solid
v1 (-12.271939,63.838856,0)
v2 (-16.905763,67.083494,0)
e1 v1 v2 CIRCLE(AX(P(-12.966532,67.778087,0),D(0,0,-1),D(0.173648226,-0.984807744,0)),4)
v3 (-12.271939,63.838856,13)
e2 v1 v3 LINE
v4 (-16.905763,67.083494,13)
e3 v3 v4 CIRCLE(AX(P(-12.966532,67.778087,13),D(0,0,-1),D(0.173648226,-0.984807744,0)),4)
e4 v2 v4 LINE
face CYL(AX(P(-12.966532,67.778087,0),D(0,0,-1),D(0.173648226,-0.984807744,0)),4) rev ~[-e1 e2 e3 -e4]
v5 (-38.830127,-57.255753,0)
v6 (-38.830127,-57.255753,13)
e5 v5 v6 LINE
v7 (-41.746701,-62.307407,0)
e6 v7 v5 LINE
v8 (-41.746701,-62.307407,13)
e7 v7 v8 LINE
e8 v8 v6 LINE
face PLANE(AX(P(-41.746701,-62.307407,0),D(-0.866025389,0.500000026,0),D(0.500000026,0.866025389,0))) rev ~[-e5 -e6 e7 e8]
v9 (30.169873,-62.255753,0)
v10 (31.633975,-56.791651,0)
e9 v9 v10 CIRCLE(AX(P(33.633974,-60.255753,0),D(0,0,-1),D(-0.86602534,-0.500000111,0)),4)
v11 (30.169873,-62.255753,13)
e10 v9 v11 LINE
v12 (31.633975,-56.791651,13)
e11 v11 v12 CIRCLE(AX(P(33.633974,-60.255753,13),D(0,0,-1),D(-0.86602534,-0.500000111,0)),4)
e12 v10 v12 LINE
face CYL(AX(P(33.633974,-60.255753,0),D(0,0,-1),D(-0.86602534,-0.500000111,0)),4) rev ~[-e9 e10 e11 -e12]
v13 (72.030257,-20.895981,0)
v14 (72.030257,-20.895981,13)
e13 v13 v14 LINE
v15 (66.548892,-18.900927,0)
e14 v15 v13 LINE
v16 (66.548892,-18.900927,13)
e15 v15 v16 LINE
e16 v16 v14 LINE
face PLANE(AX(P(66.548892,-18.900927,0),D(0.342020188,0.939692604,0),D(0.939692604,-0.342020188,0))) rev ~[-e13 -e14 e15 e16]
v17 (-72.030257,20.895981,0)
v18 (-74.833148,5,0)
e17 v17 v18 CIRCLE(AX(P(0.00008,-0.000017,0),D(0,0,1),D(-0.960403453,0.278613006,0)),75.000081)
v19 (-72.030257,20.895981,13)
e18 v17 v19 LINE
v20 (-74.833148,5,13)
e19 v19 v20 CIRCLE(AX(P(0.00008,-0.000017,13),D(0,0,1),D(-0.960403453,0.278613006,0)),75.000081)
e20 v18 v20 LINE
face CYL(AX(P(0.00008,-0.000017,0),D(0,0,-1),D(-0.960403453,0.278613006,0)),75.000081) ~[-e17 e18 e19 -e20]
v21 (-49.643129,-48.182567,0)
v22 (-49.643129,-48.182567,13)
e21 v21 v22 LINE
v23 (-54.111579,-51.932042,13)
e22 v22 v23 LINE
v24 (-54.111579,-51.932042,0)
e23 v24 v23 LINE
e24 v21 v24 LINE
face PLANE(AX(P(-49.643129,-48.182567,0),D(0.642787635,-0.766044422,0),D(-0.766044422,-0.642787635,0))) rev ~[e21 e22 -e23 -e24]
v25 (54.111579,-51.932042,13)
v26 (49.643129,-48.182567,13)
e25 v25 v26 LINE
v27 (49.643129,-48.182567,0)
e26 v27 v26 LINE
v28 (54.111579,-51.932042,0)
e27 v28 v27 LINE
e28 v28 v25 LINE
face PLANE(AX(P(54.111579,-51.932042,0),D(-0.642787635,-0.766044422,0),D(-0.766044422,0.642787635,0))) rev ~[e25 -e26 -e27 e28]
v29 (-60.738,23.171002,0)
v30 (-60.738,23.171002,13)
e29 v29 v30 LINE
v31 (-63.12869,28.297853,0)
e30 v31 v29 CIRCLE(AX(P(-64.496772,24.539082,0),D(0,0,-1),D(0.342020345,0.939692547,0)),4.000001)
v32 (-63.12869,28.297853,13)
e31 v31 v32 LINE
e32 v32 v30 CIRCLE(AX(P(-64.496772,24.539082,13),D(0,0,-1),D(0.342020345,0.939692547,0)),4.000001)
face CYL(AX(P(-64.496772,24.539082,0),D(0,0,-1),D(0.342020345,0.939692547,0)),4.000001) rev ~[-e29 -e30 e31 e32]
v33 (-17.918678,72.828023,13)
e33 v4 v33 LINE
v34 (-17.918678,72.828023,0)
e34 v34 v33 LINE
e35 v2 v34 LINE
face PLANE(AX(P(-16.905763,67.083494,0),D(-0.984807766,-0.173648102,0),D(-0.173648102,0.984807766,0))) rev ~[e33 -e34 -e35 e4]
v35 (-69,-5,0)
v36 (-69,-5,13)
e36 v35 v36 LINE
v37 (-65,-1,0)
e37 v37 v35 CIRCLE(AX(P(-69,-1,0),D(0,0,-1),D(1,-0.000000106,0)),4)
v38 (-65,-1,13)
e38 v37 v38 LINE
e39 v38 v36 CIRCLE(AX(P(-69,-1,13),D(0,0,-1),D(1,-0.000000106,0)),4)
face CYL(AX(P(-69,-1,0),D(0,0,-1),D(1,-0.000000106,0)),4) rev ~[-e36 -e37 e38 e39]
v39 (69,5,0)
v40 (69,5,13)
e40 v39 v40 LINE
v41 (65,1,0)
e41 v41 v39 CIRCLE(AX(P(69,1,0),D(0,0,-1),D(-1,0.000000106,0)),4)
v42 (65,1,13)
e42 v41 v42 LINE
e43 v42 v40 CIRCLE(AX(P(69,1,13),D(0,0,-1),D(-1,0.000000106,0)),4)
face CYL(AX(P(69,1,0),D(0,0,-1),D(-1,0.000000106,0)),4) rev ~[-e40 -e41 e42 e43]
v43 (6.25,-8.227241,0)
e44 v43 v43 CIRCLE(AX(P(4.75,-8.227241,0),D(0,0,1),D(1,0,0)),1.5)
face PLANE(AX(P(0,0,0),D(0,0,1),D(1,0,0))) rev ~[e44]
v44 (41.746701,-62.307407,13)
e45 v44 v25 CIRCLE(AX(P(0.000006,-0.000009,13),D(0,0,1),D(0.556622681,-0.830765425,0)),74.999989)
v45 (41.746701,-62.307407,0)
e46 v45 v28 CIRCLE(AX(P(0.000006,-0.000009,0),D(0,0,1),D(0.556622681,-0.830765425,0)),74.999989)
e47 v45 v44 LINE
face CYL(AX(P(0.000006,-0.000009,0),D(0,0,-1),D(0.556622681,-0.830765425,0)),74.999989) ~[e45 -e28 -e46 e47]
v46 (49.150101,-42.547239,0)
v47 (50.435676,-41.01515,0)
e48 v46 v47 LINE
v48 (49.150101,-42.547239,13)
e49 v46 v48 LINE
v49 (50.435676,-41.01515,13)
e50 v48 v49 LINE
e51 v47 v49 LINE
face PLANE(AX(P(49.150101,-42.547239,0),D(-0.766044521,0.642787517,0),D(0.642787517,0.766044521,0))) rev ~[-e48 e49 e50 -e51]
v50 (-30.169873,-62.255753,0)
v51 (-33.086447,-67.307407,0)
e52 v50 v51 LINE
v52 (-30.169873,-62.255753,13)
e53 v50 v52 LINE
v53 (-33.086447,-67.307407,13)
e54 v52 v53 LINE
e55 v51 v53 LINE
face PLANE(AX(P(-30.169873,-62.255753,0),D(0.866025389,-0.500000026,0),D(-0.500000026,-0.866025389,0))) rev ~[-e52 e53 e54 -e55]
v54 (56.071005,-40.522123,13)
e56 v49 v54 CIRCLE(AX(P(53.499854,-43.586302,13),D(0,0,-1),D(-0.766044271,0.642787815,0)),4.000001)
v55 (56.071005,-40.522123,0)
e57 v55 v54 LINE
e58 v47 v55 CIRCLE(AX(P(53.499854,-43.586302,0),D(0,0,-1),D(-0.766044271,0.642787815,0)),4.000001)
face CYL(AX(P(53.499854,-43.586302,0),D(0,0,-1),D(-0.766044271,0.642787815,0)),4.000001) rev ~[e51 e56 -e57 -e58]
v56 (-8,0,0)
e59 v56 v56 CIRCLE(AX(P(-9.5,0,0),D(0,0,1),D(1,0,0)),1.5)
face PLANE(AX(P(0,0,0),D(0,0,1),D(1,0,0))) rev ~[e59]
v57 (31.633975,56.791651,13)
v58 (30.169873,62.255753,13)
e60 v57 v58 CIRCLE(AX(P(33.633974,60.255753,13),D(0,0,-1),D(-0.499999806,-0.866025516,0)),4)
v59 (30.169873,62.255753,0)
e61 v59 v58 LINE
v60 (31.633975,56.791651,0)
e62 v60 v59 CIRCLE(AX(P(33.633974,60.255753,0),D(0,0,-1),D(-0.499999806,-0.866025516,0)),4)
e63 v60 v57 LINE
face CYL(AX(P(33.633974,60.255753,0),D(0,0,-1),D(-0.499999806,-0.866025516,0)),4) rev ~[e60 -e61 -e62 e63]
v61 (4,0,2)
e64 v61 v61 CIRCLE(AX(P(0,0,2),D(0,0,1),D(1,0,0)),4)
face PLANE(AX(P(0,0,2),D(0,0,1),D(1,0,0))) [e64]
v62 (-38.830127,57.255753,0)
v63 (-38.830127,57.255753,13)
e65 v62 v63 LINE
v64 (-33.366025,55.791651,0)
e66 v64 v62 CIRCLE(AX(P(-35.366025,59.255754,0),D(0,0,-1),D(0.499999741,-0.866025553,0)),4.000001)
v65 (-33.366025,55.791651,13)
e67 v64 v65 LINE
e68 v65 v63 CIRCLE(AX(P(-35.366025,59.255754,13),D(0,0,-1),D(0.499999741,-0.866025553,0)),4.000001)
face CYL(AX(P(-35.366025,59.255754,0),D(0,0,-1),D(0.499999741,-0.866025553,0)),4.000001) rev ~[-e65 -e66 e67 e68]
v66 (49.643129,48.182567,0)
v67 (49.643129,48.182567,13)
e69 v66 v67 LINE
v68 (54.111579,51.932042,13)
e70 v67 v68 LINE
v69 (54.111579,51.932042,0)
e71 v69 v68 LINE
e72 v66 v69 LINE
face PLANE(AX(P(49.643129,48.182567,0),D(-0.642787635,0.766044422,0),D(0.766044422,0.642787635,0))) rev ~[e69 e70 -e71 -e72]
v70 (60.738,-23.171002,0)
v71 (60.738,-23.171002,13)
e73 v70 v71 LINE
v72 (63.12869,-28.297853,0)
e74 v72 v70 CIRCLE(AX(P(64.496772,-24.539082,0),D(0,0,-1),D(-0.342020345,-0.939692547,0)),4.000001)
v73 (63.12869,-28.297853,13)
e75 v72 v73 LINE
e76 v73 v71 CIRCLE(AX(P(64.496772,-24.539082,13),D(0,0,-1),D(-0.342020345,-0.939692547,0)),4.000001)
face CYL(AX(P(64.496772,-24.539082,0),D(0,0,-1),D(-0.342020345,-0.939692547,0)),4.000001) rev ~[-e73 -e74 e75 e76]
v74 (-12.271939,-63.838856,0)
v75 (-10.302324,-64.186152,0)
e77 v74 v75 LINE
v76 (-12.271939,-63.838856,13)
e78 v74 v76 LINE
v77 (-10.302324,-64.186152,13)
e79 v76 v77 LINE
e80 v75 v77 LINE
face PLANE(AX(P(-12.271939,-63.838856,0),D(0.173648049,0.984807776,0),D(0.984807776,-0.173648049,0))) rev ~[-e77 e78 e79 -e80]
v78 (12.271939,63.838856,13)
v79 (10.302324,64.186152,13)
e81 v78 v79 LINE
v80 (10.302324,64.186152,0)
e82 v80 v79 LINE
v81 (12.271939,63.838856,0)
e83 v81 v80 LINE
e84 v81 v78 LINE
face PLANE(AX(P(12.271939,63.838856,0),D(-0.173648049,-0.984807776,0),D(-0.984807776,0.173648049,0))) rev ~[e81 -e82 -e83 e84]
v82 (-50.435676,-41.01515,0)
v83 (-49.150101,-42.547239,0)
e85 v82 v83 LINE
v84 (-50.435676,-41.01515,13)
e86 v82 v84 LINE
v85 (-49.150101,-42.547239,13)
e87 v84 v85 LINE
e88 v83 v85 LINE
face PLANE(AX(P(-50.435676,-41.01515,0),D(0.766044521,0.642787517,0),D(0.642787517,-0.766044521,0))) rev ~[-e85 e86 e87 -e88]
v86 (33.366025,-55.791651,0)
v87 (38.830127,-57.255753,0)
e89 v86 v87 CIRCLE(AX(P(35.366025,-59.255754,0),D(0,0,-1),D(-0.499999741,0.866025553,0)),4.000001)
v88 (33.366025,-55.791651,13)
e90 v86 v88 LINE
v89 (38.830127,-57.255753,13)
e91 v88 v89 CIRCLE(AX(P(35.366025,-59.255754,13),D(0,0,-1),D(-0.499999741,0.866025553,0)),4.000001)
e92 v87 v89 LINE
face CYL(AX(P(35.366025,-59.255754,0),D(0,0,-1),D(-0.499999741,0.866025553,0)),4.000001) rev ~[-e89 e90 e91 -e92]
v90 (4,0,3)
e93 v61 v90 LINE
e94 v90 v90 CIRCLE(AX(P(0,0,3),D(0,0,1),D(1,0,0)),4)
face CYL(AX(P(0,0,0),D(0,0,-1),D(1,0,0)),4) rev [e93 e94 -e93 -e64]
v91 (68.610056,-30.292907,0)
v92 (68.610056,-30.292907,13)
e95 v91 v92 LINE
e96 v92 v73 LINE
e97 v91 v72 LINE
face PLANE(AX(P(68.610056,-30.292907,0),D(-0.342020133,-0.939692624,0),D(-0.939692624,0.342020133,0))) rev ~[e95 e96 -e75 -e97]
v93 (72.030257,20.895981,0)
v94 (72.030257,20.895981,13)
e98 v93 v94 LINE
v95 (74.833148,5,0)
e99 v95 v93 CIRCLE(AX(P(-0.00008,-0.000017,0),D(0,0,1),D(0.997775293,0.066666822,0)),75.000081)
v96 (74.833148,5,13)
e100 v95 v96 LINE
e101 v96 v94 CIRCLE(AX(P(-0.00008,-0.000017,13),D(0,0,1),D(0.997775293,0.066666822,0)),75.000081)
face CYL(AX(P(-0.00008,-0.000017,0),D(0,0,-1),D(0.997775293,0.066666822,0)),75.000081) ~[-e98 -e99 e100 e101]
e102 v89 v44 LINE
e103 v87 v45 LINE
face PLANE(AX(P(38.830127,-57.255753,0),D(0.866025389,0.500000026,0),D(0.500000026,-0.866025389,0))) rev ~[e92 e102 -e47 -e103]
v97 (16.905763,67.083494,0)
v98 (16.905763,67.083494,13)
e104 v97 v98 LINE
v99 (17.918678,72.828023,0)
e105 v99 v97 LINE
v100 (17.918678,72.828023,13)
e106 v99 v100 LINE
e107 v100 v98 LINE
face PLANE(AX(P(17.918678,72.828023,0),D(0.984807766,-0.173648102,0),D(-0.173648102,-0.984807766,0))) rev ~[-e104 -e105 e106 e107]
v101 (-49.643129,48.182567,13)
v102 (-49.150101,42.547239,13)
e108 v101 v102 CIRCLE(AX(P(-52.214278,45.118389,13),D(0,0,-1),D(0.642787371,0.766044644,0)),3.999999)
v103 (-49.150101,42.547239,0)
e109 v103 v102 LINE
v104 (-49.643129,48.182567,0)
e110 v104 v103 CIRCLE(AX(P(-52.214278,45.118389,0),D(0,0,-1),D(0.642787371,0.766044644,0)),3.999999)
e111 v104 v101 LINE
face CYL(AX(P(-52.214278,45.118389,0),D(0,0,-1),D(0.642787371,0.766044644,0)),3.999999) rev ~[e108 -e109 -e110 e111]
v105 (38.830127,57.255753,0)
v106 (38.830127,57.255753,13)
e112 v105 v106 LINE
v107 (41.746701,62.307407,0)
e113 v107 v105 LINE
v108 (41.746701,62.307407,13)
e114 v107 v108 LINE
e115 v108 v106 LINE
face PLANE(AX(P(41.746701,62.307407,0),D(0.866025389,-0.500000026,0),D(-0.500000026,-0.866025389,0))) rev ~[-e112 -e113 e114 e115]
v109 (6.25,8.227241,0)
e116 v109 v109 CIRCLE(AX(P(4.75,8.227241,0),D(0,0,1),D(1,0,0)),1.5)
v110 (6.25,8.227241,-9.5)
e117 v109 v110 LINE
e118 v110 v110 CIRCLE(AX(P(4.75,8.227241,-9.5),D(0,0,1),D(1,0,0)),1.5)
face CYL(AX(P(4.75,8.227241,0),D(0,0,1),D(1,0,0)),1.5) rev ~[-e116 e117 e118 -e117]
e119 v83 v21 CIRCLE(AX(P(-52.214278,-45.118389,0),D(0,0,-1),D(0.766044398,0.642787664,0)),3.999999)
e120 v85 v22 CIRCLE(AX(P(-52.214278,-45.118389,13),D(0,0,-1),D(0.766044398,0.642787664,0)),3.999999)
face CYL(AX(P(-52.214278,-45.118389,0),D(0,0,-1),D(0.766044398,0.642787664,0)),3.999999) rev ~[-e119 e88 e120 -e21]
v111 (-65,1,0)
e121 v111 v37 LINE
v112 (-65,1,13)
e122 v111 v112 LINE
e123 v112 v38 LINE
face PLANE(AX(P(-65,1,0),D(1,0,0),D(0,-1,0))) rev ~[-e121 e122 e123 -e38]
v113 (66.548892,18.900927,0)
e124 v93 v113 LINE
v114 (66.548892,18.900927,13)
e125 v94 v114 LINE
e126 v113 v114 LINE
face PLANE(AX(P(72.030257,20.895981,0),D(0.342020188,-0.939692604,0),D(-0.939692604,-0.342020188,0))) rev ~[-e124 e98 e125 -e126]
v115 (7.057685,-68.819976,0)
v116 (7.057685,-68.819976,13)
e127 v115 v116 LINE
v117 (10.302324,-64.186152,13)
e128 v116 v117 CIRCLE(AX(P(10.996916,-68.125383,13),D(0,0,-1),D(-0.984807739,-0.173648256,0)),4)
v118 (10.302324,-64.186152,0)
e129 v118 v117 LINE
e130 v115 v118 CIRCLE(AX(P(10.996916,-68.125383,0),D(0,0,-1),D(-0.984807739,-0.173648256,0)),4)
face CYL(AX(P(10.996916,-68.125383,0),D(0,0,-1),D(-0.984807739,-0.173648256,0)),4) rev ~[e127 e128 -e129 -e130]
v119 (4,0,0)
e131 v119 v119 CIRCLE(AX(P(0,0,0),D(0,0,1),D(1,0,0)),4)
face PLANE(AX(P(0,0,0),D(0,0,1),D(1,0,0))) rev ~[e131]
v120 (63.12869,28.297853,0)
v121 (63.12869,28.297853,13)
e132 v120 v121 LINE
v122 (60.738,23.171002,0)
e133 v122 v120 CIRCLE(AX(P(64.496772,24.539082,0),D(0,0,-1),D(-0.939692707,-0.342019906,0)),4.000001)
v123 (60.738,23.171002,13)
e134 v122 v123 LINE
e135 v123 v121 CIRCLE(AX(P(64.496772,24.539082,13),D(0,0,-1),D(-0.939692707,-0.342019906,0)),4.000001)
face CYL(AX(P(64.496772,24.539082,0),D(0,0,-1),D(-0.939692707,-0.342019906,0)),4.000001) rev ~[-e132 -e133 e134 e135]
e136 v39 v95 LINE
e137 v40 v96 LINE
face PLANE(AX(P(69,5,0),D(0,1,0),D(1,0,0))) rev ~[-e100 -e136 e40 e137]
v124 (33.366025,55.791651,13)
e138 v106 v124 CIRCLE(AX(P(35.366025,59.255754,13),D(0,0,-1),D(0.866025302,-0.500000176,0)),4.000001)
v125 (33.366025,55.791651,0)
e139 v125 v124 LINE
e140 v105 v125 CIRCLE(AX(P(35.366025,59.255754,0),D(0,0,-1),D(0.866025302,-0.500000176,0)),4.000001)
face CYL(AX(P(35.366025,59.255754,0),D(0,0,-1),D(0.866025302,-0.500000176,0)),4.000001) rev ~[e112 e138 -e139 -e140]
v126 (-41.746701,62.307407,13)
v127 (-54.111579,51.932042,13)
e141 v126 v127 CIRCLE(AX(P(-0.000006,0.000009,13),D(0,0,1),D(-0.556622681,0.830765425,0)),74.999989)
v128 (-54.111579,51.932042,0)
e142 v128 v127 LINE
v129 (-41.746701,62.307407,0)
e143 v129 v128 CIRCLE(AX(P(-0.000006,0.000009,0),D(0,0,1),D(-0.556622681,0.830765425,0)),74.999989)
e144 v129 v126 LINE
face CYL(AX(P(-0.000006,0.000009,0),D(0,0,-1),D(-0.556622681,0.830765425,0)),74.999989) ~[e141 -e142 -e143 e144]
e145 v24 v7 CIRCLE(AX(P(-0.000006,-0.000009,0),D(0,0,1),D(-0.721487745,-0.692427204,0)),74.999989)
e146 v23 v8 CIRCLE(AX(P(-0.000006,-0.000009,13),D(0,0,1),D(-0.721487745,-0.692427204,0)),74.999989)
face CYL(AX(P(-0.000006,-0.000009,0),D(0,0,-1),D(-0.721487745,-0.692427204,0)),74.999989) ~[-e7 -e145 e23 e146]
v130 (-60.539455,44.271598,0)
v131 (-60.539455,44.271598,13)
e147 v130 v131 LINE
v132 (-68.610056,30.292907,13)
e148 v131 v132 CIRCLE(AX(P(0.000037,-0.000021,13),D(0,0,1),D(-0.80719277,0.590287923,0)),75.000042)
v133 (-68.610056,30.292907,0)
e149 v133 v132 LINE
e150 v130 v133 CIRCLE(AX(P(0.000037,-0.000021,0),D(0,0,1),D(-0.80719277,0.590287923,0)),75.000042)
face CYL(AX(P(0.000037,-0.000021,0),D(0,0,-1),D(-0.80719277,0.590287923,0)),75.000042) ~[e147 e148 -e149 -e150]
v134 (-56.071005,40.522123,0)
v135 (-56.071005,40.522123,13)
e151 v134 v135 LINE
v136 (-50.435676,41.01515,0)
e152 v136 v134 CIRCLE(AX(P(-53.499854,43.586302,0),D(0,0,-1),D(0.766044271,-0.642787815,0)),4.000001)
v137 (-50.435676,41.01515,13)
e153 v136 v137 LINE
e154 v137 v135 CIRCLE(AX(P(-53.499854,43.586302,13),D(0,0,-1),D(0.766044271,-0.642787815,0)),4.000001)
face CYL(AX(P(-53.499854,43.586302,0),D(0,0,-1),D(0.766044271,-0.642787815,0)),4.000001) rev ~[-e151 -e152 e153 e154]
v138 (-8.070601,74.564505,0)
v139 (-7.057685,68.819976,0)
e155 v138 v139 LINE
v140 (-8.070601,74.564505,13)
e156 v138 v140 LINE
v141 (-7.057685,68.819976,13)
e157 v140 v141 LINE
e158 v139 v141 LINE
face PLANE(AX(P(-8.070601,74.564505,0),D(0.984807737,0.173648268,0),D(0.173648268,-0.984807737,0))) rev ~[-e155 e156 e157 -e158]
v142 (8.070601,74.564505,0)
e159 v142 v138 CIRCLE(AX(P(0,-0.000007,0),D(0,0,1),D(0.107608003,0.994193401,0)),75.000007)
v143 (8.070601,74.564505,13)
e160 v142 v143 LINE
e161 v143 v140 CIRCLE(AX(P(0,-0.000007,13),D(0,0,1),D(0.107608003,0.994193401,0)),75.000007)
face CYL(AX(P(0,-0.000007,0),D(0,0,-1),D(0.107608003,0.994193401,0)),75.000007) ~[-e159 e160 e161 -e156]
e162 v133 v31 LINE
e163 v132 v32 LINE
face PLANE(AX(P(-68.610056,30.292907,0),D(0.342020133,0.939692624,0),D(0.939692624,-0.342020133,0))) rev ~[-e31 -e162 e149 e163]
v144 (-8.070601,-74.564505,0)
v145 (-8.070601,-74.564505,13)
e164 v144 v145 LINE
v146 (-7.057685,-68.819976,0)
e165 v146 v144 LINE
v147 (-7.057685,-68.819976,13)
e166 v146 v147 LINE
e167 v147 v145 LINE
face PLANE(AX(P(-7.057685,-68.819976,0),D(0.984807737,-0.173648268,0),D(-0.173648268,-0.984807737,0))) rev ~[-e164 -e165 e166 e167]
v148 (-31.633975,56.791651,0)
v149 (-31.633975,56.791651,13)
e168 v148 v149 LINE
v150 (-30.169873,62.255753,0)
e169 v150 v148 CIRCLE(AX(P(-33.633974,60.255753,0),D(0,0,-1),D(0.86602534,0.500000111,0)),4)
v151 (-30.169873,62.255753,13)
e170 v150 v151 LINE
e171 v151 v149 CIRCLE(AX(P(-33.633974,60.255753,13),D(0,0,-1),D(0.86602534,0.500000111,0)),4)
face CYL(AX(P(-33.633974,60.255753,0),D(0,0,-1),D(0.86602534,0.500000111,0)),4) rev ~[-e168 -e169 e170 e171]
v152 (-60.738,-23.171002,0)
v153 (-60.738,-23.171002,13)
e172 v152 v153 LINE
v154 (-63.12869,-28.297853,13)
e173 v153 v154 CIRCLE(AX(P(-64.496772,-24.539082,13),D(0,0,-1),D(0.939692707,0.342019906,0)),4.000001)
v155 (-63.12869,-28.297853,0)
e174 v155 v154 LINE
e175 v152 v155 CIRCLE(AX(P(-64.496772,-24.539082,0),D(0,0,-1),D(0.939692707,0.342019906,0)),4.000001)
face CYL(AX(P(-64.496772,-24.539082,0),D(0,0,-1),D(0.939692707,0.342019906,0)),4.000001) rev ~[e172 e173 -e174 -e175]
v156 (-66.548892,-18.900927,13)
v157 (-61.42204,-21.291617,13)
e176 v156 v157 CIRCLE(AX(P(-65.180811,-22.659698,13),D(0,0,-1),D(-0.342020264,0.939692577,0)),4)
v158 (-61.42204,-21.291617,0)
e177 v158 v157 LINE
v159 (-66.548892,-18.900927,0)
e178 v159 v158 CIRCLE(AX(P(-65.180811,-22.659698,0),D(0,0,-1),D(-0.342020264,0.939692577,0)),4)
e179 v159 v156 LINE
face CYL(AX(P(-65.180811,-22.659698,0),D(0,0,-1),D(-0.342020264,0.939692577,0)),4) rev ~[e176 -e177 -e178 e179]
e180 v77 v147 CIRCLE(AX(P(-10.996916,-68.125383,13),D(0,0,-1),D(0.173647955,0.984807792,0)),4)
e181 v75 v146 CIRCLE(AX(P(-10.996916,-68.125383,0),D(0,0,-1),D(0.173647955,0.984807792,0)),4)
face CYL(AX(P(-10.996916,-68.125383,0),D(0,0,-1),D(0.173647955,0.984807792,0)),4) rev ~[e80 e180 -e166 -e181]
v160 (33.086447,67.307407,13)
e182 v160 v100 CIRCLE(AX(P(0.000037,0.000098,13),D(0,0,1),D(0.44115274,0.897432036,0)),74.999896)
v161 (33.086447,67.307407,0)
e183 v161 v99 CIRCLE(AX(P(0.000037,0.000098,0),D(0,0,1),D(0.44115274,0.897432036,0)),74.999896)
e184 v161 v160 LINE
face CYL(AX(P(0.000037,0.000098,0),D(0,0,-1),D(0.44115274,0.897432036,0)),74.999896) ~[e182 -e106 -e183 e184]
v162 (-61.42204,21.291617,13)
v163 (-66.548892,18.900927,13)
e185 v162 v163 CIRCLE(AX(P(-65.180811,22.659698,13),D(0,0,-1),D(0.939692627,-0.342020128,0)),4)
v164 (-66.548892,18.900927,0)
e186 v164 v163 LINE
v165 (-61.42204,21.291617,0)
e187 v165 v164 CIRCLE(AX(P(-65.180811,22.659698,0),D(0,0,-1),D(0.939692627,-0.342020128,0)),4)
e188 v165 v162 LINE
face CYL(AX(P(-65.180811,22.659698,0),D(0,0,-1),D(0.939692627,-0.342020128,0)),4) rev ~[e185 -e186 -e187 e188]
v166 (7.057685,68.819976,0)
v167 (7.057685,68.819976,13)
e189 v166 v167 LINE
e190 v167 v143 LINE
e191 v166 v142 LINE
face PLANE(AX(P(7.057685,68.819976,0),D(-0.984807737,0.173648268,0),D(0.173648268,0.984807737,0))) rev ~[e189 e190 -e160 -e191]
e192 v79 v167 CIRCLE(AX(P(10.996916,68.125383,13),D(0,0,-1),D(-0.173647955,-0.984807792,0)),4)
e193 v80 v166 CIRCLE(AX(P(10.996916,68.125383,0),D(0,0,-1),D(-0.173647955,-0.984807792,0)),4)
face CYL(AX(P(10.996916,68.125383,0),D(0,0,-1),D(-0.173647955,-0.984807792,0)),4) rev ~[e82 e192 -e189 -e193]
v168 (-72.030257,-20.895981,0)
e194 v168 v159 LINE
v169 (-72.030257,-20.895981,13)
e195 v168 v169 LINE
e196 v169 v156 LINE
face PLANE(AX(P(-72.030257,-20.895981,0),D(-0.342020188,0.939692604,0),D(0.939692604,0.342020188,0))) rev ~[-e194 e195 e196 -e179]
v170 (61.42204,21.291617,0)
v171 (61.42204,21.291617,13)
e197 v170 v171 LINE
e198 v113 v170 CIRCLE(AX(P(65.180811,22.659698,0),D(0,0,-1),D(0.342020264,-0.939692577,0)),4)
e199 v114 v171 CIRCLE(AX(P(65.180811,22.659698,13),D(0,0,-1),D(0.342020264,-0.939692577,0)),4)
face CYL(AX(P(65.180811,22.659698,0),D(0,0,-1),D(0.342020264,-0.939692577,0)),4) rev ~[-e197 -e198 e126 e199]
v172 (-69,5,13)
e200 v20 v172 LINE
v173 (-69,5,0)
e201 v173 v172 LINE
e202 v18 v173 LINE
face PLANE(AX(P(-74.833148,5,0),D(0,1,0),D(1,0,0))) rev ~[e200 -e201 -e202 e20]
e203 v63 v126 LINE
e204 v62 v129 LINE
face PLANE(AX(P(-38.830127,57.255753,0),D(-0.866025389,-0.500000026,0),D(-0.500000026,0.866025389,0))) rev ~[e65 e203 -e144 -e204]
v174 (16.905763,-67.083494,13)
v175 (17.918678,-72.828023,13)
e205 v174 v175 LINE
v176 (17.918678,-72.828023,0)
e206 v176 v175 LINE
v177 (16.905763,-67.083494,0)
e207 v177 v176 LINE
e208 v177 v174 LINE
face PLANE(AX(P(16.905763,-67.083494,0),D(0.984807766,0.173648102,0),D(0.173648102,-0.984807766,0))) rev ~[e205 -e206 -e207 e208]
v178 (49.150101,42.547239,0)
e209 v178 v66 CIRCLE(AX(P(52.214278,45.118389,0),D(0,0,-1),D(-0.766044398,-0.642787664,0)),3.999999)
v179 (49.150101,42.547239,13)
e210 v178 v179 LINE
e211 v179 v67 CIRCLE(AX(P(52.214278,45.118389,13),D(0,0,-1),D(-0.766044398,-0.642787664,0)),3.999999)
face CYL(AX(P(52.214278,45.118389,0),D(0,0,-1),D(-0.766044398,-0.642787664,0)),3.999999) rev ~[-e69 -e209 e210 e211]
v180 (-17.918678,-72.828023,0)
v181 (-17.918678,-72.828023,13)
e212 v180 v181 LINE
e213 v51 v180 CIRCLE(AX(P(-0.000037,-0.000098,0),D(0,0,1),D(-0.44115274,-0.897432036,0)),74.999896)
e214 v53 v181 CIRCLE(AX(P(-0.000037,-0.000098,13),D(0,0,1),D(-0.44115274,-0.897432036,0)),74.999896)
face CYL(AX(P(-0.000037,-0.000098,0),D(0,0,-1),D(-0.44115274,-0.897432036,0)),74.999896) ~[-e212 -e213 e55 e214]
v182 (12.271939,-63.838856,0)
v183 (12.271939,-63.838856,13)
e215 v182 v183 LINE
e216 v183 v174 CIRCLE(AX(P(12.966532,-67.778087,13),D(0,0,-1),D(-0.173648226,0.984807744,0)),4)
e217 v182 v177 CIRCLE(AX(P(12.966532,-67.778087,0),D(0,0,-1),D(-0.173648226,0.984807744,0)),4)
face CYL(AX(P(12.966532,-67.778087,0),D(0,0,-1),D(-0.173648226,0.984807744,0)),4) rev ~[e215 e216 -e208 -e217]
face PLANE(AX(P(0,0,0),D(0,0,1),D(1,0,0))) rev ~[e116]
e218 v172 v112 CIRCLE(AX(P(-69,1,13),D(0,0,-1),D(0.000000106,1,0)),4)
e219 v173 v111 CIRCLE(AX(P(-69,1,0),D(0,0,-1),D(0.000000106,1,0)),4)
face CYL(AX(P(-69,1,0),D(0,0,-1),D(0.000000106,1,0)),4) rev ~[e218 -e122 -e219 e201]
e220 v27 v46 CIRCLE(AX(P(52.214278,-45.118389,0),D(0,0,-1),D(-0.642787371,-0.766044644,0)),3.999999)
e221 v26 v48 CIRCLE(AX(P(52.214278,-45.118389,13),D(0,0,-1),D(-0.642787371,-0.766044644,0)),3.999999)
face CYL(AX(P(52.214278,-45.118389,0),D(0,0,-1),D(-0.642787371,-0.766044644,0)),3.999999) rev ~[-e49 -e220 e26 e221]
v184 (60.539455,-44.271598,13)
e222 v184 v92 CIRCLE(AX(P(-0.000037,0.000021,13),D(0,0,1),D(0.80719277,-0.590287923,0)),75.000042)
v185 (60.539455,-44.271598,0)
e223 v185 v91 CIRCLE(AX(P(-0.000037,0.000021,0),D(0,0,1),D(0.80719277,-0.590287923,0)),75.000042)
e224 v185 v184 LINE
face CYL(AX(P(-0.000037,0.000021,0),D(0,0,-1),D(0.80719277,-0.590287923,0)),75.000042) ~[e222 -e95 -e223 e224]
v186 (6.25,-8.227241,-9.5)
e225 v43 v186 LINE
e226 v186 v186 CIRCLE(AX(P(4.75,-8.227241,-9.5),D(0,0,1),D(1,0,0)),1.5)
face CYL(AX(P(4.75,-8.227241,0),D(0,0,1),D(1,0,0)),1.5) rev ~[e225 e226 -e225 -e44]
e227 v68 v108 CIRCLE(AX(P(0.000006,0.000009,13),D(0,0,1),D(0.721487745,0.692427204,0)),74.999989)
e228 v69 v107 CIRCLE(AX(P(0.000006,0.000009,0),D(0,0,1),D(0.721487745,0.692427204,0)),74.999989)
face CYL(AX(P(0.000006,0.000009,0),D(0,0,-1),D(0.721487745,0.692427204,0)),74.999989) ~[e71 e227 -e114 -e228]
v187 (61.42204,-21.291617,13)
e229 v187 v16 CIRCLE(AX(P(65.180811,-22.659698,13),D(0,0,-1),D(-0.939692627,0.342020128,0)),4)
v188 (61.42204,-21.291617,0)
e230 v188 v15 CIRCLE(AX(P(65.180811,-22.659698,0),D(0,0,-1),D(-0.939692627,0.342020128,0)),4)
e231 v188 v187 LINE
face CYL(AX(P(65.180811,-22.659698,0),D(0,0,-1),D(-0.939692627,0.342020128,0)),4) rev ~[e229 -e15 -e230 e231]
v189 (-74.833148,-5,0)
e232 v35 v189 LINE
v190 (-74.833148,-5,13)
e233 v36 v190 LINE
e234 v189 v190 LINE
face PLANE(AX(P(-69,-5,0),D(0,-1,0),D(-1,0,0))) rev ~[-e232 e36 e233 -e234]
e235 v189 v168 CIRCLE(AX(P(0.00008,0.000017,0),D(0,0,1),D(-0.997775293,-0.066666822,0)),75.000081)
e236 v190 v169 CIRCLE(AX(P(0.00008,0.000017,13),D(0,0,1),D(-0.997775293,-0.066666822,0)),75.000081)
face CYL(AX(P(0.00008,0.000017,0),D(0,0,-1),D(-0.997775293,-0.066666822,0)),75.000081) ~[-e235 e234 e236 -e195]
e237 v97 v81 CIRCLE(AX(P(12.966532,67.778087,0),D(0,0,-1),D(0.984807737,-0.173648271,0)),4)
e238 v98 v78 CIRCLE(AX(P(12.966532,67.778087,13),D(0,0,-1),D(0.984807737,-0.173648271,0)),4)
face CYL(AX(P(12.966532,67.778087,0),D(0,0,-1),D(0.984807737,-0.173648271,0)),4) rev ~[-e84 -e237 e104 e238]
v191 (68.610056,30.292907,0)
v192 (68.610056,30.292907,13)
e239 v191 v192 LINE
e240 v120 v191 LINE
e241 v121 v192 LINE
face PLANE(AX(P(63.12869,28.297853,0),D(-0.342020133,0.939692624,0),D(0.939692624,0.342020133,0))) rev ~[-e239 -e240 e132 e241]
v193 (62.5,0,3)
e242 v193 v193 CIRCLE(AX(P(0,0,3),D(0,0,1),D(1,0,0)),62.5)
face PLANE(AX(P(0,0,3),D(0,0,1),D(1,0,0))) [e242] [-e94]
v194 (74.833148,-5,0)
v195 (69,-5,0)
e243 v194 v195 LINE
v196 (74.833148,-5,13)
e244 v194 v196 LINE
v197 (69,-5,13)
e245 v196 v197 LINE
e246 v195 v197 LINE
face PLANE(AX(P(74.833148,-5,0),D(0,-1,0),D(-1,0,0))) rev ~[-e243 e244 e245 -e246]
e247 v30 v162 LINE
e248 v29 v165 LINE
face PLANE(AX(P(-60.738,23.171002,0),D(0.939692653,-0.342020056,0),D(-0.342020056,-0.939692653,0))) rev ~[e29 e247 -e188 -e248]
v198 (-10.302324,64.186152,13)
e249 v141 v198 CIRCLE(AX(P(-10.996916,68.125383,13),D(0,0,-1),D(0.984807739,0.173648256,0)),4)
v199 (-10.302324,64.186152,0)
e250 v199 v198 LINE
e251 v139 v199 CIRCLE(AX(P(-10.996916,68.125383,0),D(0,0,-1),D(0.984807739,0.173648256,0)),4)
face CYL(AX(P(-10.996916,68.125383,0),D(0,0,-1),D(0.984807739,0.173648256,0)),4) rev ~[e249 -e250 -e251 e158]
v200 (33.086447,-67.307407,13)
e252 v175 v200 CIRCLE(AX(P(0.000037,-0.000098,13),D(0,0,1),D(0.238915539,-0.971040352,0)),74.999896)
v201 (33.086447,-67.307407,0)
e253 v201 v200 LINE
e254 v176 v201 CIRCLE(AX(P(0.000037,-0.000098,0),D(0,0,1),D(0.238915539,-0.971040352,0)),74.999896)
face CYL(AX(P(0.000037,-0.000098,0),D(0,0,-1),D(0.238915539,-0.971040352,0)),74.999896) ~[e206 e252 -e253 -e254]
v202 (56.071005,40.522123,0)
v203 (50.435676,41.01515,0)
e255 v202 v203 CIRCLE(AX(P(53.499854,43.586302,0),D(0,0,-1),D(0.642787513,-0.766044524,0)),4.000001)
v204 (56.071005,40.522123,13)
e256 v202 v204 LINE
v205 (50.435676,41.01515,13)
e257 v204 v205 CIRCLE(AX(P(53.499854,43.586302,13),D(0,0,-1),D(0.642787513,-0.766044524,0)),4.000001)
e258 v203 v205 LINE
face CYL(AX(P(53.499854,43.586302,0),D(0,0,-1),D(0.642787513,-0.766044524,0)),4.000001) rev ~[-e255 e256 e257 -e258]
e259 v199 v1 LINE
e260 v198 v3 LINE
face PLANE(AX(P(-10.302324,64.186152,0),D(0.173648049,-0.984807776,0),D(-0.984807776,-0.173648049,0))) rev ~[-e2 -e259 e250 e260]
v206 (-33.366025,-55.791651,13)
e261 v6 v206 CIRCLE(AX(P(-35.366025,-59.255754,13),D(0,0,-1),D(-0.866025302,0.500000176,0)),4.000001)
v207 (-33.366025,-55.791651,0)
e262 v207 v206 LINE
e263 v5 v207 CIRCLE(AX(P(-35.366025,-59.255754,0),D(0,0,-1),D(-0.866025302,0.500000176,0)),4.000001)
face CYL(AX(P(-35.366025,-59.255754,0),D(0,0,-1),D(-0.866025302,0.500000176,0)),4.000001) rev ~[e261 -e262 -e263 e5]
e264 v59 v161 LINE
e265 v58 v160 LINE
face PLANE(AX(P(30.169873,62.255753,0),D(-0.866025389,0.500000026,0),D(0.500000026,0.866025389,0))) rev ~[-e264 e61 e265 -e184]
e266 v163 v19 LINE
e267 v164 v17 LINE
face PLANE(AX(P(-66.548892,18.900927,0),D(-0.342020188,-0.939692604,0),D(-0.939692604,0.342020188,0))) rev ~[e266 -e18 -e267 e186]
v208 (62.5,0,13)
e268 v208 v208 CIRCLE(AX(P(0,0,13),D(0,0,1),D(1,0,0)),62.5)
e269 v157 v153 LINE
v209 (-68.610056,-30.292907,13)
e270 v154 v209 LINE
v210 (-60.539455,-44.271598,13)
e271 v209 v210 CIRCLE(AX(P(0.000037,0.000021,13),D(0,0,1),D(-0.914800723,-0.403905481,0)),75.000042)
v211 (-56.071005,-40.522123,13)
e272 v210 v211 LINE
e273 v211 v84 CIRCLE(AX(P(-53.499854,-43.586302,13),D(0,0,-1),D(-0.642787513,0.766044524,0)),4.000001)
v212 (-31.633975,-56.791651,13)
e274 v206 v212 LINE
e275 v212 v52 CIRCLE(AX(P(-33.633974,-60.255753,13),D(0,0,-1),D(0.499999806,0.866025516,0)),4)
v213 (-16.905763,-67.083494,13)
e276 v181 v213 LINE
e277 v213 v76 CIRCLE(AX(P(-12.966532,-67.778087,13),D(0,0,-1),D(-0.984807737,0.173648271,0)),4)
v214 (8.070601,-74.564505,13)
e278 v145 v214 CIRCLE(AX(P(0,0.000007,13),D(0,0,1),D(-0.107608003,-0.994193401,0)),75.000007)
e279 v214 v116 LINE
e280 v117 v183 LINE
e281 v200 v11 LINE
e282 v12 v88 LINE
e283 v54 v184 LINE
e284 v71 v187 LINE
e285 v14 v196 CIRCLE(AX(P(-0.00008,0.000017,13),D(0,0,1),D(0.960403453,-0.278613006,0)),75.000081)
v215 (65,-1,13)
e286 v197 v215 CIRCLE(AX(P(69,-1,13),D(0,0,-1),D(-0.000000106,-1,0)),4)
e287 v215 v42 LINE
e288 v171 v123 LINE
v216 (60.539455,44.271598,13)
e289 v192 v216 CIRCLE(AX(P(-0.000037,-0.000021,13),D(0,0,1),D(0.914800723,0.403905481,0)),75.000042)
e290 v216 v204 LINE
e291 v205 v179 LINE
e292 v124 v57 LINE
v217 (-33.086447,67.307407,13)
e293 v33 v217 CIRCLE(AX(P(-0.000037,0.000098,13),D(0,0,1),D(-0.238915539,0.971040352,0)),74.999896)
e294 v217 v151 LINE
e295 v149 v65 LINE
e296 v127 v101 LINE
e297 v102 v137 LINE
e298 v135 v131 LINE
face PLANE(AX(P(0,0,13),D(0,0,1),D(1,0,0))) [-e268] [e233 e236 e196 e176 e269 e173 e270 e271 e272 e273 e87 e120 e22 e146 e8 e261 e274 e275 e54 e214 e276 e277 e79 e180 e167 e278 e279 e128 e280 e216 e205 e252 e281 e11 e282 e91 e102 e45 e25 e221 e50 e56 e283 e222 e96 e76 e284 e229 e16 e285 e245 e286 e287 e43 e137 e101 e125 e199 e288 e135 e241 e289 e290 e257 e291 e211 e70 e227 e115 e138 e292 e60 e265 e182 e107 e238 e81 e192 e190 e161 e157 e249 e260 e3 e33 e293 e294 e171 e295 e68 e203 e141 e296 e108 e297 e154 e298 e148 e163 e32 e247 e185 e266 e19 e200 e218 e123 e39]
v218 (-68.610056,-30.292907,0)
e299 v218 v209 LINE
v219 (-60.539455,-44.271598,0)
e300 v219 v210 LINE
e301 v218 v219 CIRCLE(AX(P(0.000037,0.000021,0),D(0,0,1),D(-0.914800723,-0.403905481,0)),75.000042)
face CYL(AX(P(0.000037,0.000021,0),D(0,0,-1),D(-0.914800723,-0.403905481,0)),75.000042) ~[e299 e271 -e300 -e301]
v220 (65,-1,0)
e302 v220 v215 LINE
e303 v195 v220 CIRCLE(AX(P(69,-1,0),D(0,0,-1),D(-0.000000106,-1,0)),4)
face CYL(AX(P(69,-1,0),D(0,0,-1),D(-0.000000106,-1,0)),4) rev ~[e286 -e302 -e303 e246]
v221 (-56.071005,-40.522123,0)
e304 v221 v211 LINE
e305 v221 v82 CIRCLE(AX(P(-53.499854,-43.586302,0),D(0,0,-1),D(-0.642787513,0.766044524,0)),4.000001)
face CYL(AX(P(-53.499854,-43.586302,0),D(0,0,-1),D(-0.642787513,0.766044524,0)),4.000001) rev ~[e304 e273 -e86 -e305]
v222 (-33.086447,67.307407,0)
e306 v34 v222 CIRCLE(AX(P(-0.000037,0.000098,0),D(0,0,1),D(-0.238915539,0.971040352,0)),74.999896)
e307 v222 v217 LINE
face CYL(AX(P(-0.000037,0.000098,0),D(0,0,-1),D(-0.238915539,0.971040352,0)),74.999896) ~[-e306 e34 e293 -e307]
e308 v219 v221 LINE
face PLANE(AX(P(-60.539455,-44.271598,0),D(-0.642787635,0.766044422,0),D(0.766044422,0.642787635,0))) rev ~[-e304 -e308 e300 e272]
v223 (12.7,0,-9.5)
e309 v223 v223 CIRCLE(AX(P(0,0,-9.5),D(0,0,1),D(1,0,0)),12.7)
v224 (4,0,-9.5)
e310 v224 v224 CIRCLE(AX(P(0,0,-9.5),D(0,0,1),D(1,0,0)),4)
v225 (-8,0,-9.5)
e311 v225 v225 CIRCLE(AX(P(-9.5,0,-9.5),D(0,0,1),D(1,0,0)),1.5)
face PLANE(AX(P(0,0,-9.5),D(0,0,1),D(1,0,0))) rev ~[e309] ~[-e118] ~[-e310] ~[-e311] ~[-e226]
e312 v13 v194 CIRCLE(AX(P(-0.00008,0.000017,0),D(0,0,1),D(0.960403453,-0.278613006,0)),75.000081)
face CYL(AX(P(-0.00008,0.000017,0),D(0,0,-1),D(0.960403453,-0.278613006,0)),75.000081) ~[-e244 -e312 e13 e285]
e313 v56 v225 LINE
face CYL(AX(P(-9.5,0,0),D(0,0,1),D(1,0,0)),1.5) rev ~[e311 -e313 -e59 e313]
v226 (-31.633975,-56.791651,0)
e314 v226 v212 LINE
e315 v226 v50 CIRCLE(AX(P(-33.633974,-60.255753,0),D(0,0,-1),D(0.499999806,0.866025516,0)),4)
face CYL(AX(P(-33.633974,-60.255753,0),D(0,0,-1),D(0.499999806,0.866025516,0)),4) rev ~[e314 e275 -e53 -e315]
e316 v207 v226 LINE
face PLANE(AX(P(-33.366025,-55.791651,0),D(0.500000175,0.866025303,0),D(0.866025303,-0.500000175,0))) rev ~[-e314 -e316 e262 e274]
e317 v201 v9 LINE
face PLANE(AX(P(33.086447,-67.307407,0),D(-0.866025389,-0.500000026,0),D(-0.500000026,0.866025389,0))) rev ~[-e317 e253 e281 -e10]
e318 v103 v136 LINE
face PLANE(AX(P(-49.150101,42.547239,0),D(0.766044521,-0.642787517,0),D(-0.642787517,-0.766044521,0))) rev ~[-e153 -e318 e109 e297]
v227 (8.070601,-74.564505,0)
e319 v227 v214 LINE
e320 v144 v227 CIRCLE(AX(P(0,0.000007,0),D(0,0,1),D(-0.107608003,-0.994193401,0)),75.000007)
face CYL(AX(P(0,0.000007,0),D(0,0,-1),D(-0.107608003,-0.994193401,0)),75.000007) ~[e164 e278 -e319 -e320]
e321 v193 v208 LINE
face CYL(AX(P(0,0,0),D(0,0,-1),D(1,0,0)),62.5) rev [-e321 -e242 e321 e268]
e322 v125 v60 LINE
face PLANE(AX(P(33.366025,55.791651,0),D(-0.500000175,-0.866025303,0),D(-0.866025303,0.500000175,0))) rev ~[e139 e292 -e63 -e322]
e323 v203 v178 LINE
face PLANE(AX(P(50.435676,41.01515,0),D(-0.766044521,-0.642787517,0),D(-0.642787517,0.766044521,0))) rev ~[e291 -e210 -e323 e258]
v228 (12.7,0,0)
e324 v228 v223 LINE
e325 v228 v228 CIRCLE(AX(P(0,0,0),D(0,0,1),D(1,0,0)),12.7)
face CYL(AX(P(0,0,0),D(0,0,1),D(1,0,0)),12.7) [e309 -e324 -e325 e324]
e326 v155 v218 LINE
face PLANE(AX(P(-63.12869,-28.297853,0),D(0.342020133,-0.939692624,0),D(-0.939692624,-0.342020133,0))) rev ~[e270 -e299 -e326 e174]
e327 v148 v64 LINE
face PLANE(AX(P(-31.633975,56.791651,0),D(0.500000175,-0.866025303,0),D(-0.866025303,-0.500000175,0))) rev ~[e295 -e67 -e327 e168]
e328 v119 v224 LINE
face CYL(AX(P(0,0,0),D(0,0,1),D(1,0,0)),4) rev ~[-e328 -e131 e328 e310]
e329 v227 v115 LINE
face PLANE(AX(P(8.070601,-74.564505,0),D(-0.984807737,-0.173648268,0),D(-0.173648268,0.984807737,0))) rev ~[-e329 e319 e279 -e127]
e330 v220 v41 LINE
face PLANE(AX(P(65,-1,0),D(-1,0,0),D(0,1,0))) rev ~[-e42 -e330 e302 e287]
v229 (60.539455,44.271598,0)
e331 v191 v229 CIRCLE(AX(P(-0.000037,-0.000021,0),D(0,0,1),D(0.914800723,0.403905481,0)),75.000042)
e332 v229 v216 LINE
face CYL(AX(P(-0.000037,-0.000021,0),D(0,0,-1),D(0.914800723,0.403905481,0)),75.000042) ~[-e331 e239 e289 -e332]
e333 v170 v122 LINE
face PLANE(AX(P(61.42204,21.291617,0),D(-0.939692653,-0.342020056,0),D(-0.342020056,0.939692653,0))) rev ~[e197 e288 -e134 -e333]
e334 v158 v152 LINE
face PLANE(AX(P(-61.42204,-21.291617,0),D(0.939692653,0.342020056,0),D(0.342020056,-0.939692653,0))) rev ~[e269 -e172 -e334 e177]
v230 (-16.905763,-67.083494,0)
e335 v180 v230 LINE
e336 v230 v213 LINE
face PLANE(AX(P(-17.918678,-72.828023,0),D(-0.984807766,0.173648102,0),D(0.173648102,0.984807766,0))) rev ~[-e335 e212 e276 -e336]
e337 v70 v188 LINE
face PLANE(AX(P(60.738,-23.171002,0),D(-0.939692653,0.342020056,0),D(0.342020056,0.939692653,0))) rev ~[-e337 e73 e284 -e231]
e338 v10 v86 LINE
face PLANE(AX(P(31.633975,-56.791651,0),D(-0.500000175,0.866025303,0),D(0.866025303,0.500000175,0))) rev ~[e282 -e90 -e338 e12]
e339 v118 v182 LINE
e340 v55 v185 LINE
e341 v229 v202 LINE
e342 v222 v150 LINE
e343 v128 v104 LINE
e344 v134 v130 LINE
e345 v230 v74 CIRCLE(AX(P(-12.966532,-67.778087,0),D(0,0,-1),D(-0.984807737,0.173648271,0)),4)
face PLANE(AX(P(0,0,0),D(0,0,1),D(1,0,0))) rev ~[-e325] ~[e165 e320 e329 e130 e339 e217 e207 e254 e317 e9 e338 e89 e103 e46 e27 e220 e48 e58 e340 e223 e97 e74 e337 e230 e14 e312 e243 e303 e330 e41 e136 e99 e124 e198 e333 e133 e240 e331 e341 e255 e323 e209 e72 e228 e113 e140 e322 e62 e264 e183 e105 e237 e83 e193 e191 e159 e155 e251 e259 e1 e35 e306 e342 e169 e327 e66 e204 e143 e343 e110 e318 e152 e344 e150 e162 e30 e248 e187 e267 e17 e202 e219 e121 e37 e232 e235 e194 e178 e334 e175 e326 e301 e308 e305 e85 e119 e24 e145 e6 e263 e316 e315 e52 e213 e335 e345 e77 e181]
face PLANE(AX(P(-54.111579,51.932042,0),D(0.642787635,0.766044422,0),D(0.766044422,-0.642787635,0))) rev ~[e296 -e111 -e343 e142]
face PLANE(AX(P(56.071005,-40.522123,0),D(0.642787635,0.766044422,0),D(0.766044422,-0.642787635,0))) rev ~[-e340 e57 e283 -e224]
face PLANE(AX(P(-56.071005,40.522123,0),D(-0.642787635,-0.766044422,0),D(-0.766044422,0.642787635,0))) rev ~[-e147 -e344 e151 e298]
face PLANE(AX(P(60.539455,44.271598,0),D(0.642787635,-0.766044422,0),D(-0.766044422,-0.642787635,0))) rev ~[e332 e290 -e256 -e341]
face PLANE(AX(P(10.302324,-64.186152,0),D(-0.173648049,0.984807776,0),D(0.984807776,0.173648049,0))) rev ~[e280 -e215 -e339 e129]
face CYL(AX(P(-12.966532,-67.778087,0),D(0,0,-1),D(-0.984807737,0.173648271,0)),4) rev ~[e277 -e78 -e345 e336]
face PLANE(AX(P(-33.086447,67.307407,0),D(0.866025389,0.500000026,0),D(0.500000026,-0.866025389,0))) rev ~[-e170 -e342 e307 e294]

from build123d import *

# Parameters (mm, degrees)
F0_R     = 62.5
F0_R_2   = 12.7
F0_R_3   = 1.5
F0_R_4   = 4
F1_DEPTH = 3
F2_DEPTH = 13
F3_DEPTH = 9.5
F4_DEPTH = 2


with BuildPart() as f1:
    # F0 (on Top) → F1 (new body)
    with BuildSketch(Plane.XY):
        Circle(F0_R)
        Circle(F0_R_2, mode=Mode.SUBTRACT)
        Circle(F0_R_2)
        with Locations((-4.75, -8.227241)):
            Circle(F0_R_3, mode=Mode.SUBTRACT)
        with Locations((4.75, -8.227241)):
            Circle(F0_R_3, mode=Mode.SUBTRACT)
        with Locations((-9.5, 0)):
            Circle(F0_R_3, mode=Mode.SUBTRACT)
        with Locations((-4.75, 8.227241)):
            Circle(F0_R_3, mode=Mode.SUBTRACT)
        Circle(F0_R_4, mode=Mode.SUBTRACT)
        with Locations((4.75, 8.227241)):
            Circle(F0_R_3, mode=Mode.SUBTRACT)
        with Locations((9.5, 0)):
            Circle(F0_R_3, mode=Mode.SUBTRACT)
        with Locations((9.5, 0)):
            Circle(F0_R_3)
        with Locations((4.75, 8.227241)):
            Circle(F0_R_3)
        with Locations((-4.75, 8.227241)):
            Circle(F0_R_3)
        with Locations((-9.5, 0)):
            Circle(F0_R_3)
        with Locations((-4.75, -8.227241)):
            Circle(F0_R_3)
        with Locations((4.75, -8.227241)):
            Circle(F0_R_3)
    extrude(amount=F1_DEPTH)

    # F0 (on Top) → F2 (join)
    with BuildSketch(Plane.XY):
        with BuildLine():
            Line((69, 5), (74.833148, 5))
            ThreePointArc((74.833148, 5), (73.860581, 13.023613), (72.030257, 20.895981))
            Line((72.030257, 20.895981), (66.548892, 18.900927))
            ThreePointArc((66.548892, 18.900927), (63.490338, 19.034466), (61.42204, 21.291617))
            Line((61.42204, 21.291617), (60.738, 23.171002))
            ThreePointArc((60.738, 23.171002), (60.87154, 26.229556), (63.12869, 28.297853))
            Line((63.12869, 28.297853), (68.610056, 30.292907))
            ThreePointArc((68.610056, 30.292907), (64.951905, 37.5), (60.539455, 44.271598))
            Line((60.539455, 44.271598), (56.071005, 40.522123))
            ThreePointArc((56.071005, 40.522123), (53.151231, 39.601522), (50.435676, 41.01515))
            Line((50.435676, 41.01515), (49.150101, 42.547239))
            ThreePointArc((49.150101, 42.547239), (48.2295, 45.467012), (49.643129, 48.182567))
            Line((49.643129, 48.182567), (54.111579, 51.932042))
            ThreePointArc((54.111579, 51.932042), (48.209071, 57.453333), (41.746701, 62.307407))
            Line((41.746701, 62.307407), (38.830127, 57.255753))
            ThreePointArc((38.830127, 57.255753), (36.401302, 55.39205), (33.366025, 55.791651))
            Line((33.366025, 55.791651), (31.633975, 56.791651))
            ThreePointArc((31.633975, 56.791651), (29.770271, 59.220477), (30.169873, 62.255753))
            Line((30.169873, 62.255753), (33.086447, 67.307407))
            ThreePointArc((33.086447, 67.307407), (25.651511, 70.476947), (17.918678, 72.828023))
            Line((17.918678, 72.828023), (16.905763, 67.083494))
            ThreePointArc((16.905763, 67.083494), (15.260838, 64.501479), (12.271939, 63.838856))
            Line((12.271939, 63.838856), (10.302324, 64.186152))
            ThreePointArc((10.302324, 64.186152), (7.720308, 65.831077), (7.057685, 68.819976))
            Line((7.057685, 68.819976), (8.070601, 74.564505))
            ThreePointArc((8.070601, 74.564505), (0, 75), (-8.070601, 74.564505))
            Line((-8.070601, 74.564505), (-7.057685, 68.819976))
            ThreePointArc((-7.057685, 68.819976), (-7.720308, 65.831077), (-10.302324, 64.186152))
            Line((-10.302324, 64.186152), (-12.271939, 63.838856))
            ThreePointArc((-12.271939, 63.838856), (-15.260838, 64.501479), (-16.905763, 67.083494))
            Line((-16.905763, 67.083494), (-17.918678, 72.828023))
            ThreePointArc((-17.918678, 72.828023), (-25.651511, 70.476947), (-33.086447, 67.307407))
            Line((-33.086447, 67.307407), (-30.169873, 62.255753))
            ThreePointArc((-30.169873, 62.255753), (-29.770271, 59.220477), (-31.633975, 56.791651))
            Line((-31.633975, 56.791651), (-33.366025, 55.791651))
            ThreePointArc((-33.366025, 55.791651), (-36.401302, 55.39205), (-38.830127, 57.255753))
            Line((-38.830127, 57.255753), (-41.746701, 62.307407))
            ThreePointArc((-41.746701, 62.307407), (-48.209071, 57.453333), (-54.111579, 51.932042))
            Line((-54.111579, 51.932042), (-49.643129, 48.182567))
            ThreePointArc((-49.643129, 48.182567), (-48.2295, 45.467012), (-49.150101, 42.547239))
            Line((-49.150101, 42.547239), (-50.435676, 41.01515))
            ThreePointArc((-50.435676, 41.01515), (-53.151231, 39.601522), (-56.071005, 40.522123))
            Line((-56.071005, 40.522123), (-60.539455, 44.271598))
            ThreePointArc((-60.539455, 44.271598), (-64.951905, 37.5), (-68.610056, 30.292907))
            Line((-68.610056, 30.292907), (-63.12869, 28.297853))
            ThreePointArc((-63.12869, 28.297853), (-60.87154, 26.229556), (-60.738, 23.171002))
            Line((-60.738, 23.171002), (-61.42204, 21.291617))
            ThreePointArc((-61.42204, 21.291617), (-63.490338, 19.034466), (-66.548892, 18.900927))
            Line((-66.548892, 18.900927), (-72.030257, 20.895981))
            ThreePointArc((-72.030257, 20.895981), (-73.860581, 13.023613), (-74.833148, 5))
            Line((-74.833148, 5), (-69, 5))
            ThreePointArc((-69, 5), (-66.171573, 3.828427), (-65, 1))
            Line((-65, 1), (-65, -1))
            ThreePointArc((-65, -1), (-66.171573, -3.828427), (-69, -5))
            Line((-69, -5), (-74.833148, -5))
            ThreePointArc((-74.833148, -5), (-73.860581, -13.023613), (-72.030257, -20.895981))
            Line((-72.030257, -20.895981), (-66.548892, -18.900927))
            ThreePointArc((-66.548892, -18.900927), (-63.490338, -19.034466), (-61.42204, -21.291617))
            Line((-61.42204, -21.291617), (-60.738, -23.171002))
            ThreePointArc((-60.738, -23.171002), (-60.87154, -26.229556), (-63.12869, -28.297853))
            Line((-63.12869, -28.297853), (-68.610056, -30.292907))
            ThreePointArc((-68.610056, -30.292907), (-64.951905, -37.5), (-60.539455, -44.271598))
            Line((-60.539455, -44.271598), (-56.071005, -40.522123))
            ThreePointArc((-56.071005, -40.522123), (-53.151231, -39.601522), (-50.435676, -41.01515))
            Line((-50.435676, -41.01515), (-49.150101, -42.547239))
            ThreePointArc((-49.150101, -42.547239), (-48.2295, -45.467012), (-49.643129, -48.182567))
            Line((-49.643129, -48.182567), (-54.111579, -51.932042))
            ThreePointArc((-54.111579, -51.932042), (-48.209071, -57.453333), (-41.746701, -62.307407))
            Line((-41.746701, -62.307407), (-38.830127, -57.255753))
            ThreePointArc((-38.830127, -57.255753), (-36.401302, -55.39205), (-33.366025, -55.791651))
            Line((-33.366025, -55.791651), (-31.633975, -56.791651))
            ThreePointArc((-31.633975, -56.791651), (-29.770271, -59.220477), (-30.169873, -62.255753))
            Line((-30.169873, -62.255753), (-33.086447, -67.307407))
            ThreePointArc((-33.086447, -67.307407), (-25.651511, -70.476947), (-17.918678, -72.828023))
            Line((-17.918678, -72.828023), (-16.905763, -67.083494))
            ThreePointArc((-16.905763, -67.083494), (-15.260838, -64.501479), (-12.271939, -63.838856))
            Line((-12.271939, -63.838856), (-10.302324, -64.186152))
            ThreePointArc((-10.302324, -64.186152), (-7.720308, -65.831077), (-7.057685, -68.819976))
            Line((-7.057685, -68.819976), (-8.070601, -74.564505))
            ThreePointArc((-8.070601, -74.564505), (0, -75), (8.070601, -74.564505))
            Line((8.070601, -74.564505), (7.057685, -68.819976))
            ThreePointArc((7.057685, -68.819976), (7.720308, -65.831077), (10.302324, -64.186152))
            Line((10.302324, -64.186152), (12.271939, -63.838856))
            ThreePointArc((12.271939, -63.838856), (15.260838, -64.501479), (16.905763, -67.083494))
            Line((16.905763, -67.083494), (17.918678, -72.828023))
            ThreePointArc((17.918678, -72.828023), (25.651511, -70.476947), (33.086447, -67.307407))
            Line((33.086447, -67.307407), (30.169873, -62.255753))
            ThreePointArc((30.169873, -62.255753), (29.770271, -59.220477), (31.633975, -56.791651))
            Line((31.633975, -56.791651), (33.366025, -55.791651))
            ThreePointArc((33.366025, -55.791651), (36.401302, -55.39205), (38.830127, -57.255753))
            Line((38.830127, -57.255753), (41.746701, -62.307407))
            ThreePointArc((41.746701, -62.307407), (48.209071, -57.453333), (54.111579, -51.932042))
            Line((54.111579, -51.932042), (49.643129, -48.182567))
            ThreePointArc((49.643129, -48.182567), (48.2295, -45.467012), (49.150101, -42.547239))
            Line((49.150101, -42.547239), (50.435676, -41.01515))
            ThreePointArc((50.435676, -41.01515), (53.151231, -39.601522), (56.071005, -40.522123))
            Line((56.071005, -40.522123), (60.539455, -44.271598))
            ThreePointArc((60.539455, -44.271598), (64.951905, -37.5), (68.610056, -30.292907))
            Line((68.610056, -30.292907), (63.12869, -28.297853))
            ThreePointArc((63.12869, -28.297853), (60.87154, -26.229556), (60.738, -23.171002))
            Line((60.738, -23.171002), (61.42204, -21.291617))
            ThreePointArc((61.42204, -21.291617), (63.490338, -19.034466), (66.548892, -18.900927))
            Line((66.548892, -18.900927), (72.030257, -20.895981))
            ThreePointArc((72.030257, -20.895981), (73.860581, -13.023613), (74.833148, -5))
            Line((74.833148, -5), (69, -5))
            ThreePointArc((69, -5), (66.171573, -3.828427), (65, -1))
            Line((65, -1), (65, 1))
            ThreePointArc((65, 1), (66.171573, 3.828427), (69, 5))
        make_face()
        Circle(F0_R, mode=Mode.SUBTRACT)
    extrude(amount=F2_DEPTH)

    # F0 (on Top) → F3 (join)
    with BuildSketch(Plane.XY):
        Circle(F0_R_2)
        with Locations((-4.75, -8.227241)):
            Circle(F0_R_3, mode=Mode.SUBTRACT)
        with Locations((4.75, -8.227241)):
            Circle(F0_R_3, mode=Mode.SUBTRACT)
        with Locations((-9.5, 0)):
            Circle(F0_R_3, mode=Mode.SUBTRACT)
        with Locations((-4.75, 8.227241)):
            Circle(F0_R_3, mode=Mode.SUBTRACT)
        Circle(F0_R_4, mode=Mode.SUBTRACT)
        with Locations((4.75, 8.227241)):
            Circle(F0_R_3, mode=Mode.SUBTRACT)
        with Locations((9.5, 0)):
            Circle(F0_R_3, mode=Mode.SUBTRACT)
        with Locations((-4.75, 8.227241)):
            Circle(F0_R_3)
        with Locations((9.5, 0)):
            Circle(F0_R_3)
        with Locations((-4.75, -8.227241)):
            Circle(F0_R_3)
    extrude(amount=-F3_DEPTH)

    # F0 (on Top) → F4 (join)
    with BuildSketch(Plane.XY):
        Circle(F0_R_4)
    extrude(amount=F4_DEPTH)


solid = f1.part
